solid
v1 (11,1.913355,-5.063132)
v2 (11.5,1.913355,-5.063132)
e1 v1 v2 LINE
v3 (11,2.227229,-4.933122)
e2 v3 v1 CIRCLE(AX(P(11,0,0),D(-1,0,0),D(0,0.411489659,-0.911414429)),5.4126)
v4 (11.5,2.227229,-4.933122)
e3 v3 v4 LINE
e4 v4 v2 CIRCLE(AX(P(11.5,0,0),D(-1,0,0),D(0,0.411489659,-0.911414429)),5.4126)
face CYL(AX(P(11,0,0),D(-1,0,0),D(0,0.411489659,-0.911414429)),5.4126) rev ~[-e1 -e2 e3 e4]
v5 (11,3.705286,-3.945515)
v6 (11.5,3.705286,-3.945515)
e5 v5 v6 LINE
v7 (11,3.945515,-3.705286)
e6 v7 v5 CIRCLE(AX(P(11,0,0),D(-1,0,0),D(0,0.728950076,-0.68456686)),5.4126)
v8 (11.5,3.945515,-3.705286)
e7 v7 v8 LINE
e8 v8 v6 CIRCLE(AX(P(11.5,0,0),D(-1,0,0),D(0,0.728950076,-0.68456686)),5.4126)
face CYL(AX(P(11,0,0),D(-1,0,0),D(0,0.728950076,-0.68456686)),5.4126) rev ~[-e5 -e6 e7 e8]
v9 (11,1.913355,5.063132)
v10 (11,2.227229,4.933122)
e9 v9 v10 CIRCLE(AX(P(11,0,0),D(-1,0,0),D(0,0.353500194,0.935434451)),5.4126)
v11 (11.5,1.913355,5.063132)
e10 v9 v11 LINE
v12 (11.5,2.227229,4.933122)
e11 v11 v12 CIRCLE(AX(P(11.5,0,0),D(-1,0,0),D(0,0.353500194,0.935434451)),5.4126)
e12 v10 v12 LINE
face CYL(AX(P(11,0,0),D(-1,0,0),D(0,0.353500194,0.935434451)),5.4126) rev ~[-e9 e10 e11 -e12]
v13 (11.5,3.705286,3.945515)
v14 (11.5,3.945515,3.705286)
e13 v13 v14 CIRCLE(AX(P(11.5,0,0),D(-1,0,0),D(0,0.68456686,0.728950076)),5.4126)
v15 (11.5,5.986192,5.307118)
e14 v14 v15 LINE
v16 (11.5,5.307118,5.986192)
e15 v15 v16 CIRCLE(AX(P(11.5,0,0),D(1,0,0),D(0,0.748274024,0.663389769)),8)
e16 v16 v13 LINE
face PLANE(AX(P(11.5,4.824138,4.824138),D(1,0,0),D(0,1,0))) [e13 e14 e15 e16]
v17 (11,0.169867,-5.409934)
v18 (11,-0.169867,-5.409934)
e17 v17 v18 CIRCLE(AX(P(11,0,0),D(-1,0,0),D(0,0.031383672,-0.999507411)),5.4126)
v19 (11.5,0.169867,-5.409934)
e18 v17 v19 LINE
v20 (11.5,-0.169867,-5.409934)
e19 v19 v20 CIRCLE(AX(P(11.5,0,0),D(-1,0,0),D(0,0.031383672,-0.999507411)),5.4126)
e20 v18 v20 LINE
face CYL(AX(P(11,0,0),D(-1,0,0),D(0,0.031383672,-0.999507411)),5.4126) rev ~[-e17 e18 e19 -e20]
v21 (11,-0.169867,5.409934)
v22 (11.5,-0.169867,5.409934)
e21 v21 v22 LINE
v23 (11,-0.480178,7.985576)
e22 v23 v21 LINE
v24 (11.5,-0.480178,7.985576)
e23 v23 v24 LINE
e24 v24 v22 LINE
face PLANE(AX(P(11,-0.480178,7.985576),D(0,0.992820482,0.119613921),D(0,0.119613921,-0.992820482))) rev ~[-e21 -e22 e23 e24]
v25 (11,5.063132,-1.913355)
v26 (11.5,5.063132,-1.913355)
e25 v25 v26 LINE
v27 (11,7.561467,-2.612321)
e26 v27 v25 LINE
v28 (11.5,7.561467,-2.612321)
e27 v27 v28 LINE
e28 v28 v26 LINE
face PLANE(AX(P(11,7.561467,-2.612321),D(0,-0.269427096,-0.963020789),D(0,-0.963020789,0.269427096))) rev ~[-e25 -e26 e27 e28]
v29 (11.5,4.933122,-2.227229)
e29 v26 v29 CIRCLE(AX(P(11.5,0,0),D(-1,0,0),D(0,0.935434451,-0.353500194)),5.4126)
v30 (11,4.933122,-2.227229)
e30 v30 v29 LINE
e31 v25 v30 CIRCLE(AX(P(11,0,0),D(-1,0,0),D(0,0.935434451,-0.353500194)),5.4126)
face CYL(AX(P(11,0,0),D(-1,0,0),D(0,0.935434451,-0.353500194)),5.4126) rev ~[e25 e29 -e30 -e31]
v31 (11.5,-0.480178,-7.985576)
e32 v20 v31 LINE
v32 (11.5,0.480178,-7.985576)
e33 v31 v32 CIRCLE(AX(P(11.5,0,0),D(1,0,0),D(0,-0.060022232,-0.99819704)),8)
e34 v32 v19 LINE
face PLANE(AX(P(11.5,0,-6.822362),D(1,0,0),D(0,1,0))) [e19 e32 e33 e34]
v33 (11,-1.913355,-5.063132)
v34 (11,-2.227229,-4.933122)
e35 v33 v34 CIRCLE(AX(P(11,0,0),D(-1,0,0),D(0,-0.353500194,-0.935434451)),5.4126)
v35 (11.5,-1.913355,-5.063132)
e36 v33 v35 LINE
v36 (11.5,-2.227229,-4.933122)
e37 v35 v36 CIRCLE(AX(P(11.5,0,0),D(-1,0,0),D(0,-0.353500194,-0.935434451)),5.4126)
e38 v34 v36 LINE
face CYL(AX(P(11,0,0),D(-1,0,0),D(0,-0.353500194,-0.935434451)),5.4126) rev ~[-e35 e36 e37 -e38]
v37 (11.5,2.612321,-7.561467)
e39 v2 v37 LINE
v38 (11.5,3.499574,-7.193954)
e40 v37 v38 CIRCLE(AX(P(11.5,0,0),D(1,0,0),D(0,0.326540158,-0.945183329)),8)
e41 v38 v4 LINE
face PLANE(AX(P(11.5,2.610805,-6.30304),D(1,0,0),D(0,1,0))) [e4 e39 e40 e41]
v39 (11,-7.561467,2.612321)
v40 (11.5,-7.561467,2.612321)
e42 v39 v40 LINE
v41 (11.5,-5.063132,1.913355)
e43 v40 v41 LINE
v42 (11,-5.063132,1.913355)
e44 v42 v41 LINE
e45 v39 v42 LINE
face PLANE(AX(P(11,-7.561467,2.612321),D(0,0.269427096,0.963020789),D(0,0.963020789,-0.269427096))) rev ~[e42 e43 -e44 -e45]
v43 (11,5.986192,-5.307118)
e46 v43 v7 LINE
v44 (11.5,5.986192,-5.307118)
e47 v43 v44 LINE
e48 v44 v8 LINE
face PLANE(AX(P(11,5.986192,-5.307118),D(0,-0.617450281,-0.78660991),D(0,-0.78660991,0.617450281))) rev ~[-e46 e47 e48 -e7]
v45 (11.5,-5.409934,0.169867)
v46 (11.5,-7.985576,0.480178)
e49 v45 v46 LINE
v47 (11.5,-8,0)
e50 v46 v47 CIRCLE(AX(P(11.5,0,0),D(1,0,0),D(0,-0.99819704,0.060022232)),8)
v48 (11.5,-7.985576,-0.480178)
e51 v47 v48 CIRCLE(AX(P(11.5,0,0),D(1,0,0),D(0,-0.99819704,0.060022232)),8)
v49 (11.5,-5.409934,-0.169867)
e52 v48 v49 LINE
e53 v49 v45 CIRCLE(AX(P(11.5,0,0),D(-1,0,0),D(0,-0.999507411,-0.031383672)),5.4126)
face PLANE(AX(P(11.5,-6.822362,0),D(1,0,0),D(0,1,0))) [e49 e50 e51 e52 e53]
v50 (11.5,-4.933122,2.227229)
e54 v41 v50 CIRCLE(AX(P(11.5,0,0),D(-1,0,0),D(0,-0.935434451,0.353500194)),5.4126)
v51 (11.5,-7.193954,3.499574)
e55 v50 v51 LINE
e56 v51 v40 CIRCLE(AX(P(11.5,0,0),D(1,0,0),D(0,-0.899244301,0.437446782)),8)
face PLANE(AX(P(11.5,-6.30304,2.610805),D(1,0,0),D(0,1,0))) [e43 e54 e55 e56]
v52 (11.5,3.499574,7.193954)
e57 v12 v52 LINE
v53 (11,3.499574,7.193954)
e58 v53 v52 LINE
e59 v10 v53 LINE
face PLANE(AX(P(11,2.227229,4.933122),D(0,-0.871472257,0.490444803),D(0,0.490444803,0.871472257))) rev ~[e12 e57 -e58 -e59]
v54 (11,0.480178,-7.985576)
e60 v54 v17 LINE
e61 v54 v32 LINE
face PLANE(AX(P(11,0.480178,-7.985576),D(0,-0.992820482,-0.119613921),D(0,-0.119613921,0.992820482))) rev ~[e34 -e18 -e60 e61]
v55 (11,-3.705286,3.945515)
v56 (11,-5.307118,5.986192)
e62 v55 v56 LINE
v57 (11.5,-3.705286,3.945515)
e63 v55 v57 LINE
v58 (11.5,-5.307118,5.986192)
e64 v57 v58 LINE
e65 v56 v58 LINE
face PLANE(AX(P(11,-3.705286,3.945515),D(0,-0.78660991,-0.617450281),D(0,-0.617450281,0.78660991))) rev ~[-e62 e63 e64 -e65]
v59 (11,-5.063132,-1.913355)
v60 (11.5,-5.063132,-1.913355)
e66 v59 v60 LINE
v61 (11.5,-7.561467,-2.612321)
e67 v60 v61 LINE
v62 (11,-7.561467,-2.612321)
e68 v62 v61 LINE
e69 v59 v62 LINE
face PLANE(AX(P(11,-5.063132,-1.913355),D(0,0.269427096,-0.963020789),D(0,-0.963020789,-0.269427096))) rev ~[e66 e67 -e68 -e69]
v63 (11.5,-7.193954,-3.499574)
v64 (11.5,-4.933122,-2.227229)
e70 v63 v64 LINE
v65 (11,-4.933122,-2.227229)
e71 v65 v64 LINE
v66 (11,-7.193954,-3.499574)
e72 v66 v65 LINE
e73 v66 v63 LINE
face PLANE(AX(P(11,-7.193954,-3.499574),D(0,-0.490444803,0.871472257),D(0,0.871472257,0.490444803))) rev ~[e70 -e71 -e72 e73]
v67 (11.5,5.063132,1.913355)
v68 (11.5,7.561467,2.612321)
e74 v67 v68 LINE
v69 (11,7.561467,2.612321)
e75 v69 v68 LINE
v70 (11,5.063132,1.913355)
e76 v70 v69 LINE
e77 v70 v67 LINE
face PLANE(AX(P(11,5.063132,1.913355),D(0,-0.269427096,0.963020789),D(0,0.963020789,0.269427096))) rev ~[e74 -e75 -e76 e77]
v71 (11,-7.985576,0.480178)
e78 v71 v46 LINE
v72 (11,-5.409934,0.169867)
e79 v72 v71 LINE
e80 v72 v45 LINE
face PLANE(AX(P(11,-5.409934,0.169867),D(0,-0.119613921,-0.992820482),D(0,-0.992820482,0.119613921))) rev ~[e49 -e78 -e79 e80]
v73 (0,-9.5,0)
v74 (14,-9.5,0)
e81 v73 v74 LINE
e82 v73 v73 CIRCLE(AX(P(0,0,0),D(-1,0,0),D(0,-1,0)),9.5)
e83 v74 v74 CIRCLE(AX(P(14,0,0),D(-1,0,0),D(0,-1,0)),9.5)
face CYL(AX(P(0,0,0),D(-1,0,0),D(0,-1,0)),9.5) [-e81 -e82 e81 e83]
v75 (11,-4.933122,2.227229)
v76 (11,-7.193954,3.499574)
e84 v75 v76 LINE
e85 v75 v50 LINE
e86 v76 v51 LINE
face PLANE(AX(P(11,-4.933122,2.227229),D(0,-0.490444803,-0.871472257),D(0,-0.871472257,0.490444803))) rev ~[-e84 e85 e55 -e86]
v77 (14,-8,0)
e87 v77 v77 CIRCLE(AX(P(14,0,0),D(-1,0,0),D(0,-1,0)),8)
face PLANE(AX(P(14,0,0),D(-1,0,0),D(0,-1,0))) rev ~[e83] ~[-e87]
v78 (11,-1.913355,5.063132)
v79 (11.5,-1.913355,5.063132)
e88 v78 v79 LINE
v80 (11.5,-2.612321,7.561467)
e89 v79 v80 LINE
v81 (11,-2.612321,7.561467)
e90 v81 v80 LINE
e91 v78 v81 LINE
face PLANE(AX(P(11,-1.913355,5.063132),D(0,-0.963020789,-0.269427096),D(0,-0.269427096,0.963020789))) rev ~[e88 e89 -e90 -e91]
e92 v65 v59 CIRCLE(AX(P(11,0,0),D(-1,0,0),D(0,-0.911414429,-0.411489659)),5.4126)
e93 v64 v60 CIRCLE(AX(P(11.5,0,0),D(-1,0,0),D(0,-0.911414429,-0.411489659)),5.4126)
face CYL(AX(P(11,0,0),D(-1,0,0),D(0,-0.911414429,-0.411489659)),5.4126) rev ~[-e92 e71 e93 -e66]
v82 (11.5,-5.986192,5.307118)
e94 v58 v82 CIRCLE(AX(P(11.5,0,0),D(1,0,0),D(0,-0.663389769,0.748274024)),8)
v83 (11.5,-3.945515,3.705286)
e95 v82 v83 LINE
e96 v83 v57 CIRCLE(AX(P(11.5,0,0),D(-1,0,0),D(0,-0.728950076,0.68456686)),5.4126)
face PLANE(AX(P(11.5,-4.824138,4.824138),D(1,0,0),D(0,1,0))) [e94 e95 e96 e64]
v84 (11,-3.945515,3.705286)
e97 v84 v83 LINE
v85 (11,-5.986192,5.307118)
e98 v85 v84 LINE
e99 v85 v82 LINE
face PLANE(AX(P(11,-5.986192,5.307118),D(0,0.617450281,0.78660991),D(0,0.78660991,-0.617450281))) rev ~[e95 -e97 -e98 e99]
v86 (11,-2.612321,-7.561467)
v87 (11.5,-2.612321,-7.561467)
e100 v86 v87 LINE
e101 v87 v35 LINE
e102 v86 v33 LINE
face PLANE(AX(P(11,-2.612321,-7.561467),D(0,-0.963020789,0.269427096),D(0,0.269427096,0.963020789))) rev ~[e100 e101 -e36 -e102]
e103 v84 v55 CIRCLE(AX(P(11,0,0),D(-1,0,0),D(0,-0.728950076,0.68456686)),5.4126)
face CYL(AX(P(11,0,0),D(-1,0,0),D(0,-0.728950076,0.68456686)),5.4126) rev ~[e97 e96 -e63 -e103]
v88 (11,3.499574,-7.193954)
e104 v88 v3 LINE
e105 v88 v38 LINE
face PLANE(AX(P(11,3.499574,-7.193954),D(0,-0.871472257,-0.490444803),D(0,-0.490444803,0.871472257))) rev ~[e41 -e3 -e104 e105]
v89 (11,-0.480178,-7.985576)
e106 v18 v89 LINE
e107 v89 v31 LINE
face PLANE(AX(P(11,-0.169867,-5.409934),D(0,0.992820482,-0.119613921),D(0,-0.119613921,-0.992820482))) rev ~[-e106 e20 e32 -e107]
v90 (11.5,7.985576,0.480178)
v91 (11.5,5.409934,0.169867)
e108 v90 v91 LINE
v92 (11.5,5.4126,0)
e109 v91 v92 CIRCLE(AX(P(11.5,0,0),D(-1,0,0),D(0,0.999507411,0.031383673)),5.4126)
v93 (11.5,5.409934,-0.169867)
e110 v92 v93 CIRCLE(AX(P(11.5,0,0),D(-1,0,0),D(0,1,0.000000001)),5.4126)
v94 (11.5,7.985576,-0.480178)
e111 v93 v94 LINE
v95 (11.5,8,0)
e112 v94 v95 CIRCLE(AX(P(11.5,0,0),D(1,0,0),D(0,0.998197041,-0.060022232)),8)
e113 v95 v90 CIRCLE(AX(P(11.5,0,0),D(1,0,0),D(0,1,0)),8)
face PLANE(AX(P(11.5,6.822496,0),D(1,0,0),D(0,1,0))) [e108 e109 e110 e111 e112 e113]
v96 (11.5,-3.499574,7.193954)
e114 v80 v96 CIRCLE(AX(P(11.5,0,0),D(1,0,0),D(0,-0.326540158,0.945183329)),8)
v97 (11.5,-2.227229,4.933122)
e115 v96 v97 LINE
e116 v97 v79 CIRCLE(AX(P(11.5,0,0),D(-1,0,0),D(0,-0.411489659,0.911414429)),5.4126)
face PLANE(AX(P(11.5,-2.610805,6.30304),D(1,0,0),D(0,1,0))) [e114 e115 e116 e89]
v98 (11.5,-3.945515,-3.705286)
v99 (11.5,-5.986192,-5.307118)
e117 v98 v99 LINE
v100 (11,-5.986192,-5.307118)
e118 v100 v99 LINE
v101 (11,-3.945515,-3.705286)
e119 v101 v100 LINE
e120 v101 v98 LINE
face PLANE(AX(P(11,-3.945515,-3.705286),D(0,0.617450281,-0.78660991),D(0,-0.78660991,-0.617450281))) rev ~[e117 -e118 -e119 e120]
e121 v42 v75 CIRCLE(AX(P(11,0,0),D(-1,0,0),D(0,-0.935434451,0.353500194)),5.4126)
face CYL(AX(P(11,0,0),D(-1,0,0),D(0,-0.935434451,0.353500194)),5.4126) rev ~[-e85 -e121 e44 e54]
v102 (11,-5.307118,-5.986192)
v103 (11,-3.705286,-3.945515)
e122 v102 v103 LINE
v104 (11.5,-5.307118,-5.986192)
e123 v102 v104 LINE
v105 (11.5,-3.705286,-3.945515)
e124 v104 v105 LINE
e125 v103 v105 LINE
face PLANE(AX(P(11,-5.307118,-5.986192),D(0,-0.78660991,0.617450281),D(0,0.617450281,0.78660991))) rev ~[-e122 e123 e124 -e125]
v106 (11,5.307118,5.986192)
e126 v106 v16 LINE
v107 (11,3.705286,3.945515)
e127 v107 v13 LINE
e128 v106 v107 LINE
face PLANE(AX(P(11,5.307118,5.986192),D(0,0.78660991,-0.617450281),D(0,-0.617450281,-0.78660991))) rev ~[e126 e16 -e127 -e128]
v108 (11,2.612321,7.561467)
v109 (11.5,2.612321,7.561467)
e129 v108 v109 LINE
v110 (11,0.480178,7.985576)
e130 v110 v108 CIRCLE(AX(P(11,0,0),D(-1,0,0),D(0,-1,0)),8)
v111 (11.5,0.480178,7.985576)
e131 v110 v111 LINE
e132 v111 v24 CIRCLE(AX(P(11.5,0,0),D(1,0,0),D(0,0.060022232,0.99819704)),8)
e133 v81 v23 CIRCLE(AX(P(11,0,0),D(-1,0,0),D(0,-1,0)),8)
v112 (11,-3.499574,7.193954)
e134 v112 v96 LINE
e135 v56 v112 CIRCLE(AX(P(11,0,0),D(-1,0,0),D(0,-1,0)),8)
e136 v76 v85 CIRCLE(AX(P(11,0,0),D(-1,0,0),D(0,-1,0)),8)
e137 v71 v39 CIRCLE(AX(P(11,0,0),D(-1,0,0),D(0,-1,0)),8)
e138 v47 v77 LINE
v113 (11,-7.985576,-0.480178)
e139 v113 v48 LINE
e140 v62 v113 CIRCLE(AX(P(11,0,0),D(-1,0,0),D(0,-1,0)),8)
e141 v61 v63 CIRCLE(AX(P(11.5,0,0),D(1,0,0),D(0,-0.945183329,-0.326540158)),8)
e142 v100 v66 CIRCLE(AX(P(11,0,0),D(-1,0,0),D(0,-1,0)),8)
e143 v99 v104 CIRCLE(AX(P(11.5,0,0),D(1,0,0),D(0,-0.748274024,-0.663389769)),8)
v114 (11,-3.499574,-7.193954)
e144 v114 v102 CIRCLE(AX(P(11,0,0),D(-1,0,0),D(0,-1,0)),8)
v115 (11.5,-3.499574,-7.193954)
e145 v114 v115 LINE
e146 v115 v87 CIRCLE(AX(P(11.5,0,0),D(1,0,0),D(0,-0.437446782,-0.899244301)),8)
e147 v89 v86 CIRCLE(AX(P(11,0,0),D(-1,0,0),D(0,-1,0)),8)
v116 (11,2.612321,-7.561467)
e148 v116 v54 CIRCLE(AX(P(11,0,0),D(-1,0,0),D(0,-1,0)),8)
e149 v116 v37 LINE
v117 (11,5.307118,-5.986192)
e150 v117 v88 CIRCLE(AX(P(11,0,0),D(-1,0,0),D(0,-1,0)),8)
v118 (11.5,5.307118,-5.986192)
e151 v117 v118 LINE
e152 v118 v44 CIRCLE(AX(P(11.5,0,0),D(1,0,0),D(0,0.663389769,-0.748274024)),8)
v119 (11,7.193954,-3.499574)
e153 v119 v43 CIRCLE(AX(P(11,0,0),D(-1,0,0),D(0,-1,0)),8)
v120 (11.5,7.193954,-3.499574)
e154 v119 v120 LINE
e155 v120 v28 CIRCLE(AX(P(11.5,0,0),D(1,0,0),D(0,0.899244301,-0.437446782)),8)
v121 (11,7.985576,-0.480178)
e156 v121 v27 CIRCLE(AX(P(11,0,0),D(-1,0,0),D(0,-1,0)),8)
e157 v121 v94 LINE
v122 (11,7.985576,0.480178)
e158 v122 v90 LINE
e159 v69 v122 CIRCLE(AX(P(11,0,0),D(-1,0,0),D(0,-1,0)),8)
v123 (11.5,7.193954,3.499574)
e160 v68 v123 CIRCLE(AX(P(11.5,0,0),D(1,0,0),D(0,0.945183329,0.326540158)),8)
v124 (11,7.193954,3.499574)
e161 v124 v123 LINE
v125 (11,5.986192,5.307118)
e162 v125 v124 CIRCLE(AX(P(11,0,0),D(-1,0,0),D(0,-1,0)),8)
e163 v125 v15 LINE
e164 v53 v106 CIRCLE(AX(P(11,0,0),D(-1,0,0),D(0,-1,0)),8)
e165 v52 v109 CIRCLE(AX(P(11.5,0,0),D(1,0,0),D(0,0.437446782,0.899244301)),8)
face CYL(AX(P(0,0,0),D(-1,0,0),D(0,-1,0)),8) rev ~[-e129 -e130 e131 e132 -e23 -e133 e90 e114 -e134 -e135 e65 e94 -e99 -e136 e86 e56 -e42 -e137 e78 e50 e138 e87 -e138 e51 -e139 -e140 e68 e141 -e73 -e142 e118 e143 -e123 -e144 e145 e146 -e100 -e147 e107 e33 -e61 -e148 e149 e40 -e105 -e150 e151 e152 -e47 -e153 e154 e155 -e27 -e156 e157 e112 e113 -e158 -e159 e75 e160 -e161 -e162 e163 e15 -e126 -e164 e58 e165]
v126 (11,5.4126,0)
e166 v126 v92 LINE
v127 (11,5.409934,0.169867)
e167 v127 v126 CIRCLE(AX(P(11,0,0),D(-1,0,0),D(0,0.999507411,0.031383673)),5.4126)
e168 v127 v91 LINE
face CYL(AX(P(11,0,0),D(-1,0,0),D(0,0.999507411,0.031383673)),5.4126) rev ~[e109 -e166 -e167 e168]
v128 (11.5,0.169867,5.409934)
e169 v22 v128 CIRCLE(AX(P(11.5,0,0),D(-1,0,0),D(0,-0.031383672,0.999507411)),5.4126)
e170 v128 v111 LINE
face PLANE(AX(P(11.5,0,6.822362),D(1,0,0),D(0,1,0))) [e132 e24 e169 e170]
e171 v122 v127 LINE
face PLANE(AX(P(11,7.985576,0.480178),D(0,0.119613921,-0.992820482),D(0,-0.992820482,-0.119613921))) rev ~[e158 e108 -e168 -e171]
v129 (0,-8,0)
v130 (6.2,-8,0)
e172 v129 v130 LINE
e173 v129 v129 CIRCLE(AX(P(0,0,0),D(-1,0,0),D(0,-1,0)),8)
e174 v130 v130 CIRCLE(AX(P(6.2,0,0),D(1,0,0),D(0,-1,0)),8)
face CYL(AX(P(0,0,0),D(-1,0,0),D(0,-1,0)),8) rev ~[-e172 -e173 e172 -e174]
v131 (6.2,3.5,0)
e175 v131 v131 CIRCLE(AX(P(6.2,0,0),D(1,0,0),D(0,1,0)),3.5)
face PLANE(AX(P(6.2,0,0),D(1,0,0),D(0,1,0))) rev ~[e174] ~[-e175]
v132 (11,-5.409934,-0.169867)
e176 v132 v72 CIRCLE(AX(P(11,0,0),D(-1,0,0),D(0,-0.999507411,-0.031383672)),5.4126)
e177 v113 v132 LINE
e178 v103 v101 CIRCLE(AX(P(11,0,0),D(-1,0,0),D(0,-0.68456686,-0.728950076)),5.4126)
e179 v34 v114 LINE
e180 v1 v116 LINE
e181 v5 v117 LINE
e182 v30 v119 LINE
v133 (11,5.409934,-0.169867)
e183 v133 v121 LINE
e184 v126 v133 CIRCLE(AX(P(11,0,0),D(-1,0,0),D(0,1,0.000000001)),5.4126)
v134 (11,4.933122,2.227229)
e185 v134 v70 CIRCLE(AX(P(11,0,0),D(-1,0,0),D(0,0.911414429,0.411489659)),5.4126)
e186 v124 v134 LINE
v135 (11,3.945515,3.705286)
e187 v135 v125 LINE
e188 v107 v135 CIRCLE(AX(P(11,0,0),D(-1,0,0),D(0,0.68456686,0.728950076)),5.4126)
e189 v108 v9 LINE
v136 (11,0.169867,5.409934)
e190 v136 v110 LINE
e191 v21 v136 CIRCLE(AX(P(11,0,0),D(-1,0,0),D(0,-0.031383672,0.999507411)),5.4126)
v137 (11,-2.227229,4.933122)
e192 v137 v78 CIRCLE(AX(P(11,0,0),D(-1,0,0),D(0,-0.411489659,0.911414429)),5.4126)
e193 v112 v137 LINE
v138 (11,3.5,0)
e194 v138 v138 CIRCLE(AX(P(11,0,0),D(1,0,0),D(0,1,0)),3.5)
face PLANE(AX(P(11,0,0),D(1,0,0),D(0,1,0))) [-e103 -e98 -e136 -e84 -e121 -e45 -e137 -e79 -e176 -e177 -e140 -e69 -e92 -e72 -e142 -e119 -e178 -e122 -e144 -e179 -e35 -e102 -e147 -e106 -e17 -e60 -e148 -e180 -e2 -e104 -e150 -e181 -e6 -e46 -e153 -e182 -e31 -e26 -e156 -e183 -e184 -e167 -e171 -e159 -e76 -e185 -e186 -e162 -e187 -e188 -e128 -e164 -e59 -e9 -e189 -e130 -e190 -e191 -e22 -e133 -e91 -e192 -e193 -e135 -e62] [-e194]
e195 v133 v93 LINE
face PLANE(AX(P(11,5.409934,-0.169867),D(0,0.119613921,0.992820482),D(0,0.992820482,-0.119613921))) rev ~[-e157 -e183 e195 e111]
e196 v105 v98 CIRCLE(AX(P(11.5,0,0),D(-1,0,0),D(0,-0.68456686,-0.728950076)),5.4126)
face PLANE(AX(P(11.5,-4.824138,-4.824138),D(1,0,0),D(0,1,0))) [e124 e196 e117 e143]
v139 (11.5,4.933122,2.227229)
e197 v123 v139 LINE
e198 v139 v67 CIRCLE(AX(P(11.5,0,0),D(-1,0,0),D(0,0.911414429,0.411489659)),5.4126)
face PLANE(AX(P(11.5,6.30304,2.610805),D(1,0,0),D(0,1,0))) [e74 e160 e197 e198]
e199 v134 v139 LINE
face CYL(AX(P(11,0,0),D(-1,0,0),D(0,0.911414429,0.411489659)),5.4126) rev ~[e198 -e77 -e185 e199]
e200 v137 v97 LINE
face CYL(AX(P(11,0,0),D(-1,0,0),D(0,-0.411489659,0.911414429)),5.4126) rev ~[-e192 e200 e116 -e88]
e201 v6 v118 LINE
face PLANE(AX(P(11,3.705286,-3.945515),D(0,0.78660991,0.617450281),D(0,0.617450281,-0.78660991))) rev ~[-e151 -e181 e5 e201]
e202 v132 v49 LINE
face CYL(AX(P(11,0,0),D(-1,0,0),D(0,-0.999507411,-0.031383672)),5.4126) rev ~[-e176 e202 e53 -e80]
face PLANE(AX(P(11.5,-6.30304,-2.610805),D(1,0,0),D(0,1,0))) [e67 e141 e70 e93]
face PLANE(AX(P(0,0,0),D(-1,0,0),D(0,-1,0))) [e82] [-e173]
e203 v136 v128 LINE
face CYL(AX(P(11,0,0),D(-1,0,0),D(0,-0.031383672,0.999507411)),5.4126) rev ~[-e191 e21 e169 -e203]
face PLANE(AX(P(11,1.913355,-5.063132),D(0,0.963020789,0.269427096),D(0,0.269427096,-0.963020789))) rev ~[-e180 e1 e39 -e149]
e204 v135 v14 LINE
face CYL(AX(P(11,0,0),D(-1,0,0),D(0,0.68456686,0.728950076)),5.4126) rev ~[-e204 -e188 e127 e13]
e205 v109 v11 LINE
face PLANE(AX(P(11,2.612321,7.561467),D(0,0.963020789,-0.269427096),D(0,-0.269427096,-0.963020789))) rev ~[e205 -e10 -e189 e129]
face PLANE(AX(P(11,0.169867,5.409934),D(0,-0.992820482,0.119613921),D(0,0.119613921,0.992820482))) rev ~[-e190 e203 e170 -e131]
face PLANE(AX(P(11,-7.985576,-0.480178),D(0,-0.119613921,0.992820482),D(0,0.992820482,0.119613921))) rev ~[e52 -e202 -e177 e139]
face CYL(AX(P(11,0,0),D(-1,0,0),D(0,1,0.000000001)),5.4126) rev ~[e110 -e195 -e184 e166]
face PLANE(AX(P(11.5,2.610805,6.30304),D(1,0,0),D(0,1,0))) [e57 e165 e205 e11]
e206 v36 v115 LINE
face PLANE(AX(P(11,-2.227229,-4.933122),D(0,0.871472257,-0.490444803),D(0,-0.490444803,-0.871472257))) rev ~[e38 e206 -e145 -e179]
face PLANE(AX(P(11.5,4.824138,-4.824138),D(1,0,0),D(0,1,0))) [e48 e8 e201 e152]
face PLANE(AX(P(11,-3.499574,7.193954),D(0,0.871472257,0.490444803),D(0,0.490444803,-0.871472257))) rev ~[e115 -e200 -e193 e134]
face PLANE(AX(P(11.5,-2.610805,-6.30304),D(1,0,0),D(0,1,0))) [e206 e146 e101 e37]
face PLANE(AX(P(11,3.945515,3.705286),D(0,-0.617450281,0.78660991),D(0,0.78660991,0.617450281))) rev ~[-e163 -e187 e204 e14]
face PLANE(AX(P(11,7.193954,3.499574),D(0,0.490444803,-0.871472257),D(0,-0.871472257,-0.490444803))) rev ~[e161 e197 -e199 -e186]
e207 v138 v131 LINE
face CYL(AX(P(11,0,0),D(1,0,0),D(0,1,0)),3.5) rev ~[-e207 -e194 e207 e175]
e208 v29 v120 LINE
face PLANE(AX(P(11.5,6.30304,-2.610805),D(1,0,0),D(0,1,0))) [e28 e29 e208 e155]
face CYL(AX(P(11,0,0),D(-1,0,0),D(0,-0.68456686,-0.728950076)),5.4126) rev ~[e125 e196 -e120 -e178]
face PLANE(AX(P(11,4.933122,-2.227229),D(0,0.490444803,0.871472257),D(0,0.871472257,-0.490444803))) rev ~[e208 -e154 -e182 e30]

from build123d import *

# Parameters (mm, degrees)
F0_R     = 8
F1_DEPTH = 14
F2_R     = 9.5
F2_R_2   = 8
F3_DEPTH = 14
F4_DEPTH = 3
F5_DEPTH = 6.2
F6_R     = 3.5
F7_DEPTH = 11.001
F9_DEPTH = 0.5


with BuildPart() as f1:
    # F0 (on Right) → F1 (new body)
    with BuildSketch(Plane.YZ):
        Circle(F0_R)
    extrude(amount=F1_DEPTH)

    # F4 (cut): a face of the model
    f4_faces = [f1.faces().sort_by_distance(p)[0] for p in [
        (14, 0, 0),
    ]]
    extrude(f4_faces, amount=-F4_DEPTH, mode=Mode.SUBTRACT)

    # F5 (cut): a face of the model
    f5_faces = [f1.faces().sort_by_distance(p)[0] for p in [
        (0, 0, 0),
    ]]
    extrude(f5_faces, amount=-F5_DEPTH, mode=Mode.SUBTRACT)

    # F6 (on face) → F7 (cut, through all)
    with BuildSketch(Plane.YZ.offset(11)):
        Circle(F6_R)
    extrude(amount=-F7_DEPTH, mode=Mode.SUBTRACT)



with BuildPart() as f3:
    # F2 (on face) → F3 (new body)
    with BuildSketch(Plane(origin=(0, 0, 0), x_dir=(0, -1, 0), z_dir=(-1, 0, 0))):
        Circle(F2_R)
        Circle(F2_R_2, mode=Mode.SUBTRACT)
    extrude(amount=-F3_DEPTH)


with BuildPart() as f1_1:
    add(f1.part)

    add(f3.part)  # F9 merges F3
    # F8 (on face) → F9 (join)
    with BuildSketch(Plane.YZ.offset(11)):
        with BuildLine():
            ThreePointArc((-3.7052864958, -3.9455150793), (-3.8272860657, -3.8272860657), (-3.9455150793, -3.7052864958))
            Line((-3.9455150793, -3.7052864958), (-5.9861921895, -5.3071181511))
            ThreePointArc((-5.9861921895, -5.3071181511), (-5.6568542495, -5.6568542495), (-5.3071181511, -5.9861921895))
            Line((-5.3071181511, -5.9861921895), (-3.7052864958, -3.9455150793))
        make_face()
        with BuildLine():
            ThreePointArc((-4.9331216086, -2.2272288729), (-5.0005902294, -2.0713122929), (-5.0631323811, -1.9133551026))
            Line((-5.0631323811, -1.9133551026), (-7.5614666316, -2.6123212626))
            ThreePointArc((-7.5614666316, -2.6123212626), (-7.3910362601, -3.0614674589), (-7.1939544103, -3.4995742515))
            Line((-7.1939544103, -3.4995742515), (-4.9331216086, -2.2272288729))
        make_face()
        with BuildLine():
            ThreePointArc((-5.4099336753, -0.1698672604), (-5.4125998612, 0), (-5.4099336753, 0.1698672604))
            Line((-5.4099336753, 0.1698672604), (-7.9855763239, 0.4801778575))
            ThreePointArc((-7.9855763239, 0.4801778575), (-8, 0), (-7.9855763239, -0.4801778575))
            Line((-7.9855763239, -0.4801778575), (-5.4099336753, -0.1698672604))
        make_face()
        with BuildLine():
            ThreePointArc((-5.0631323811, 1.9133551026), (-5.0005902294, 2.0713122929), (-4.9331216086, 2.2272288729))
            Line((-4.9331216086, 2.2272288729), (-7.1939544103, 3.4995742515))
            ThreePointArc((-7.1939544103, 3.4995742515), (-7.3910362601, 3.0614674589), (-7.5614666316, 2.6123212626))
            Line((-7.5614666316, 2.6123212626), (-5.0631323811, 1.9133551026))
        make_face()
        with BuildLine():
            ThreePointArc((-3.9455150793, 3.7052864958), (-3.8272860657, 3.8272860657), (-3.7052864958, 3.9455150793))
            Line((-3.7052864958, 3.9455150793), (-5.3071181511, 5.9861921895))
            ThreePointArc((-5.3071181511, 5.9861921895), (-5.6568542495, 5.6568542495), (-5.9861921895, 5.3071181511))
            Line((-5.9861921895, 5.3071181511), (-3.9455150793, 3.7052864958))
        make_face()
        with BuildLine():
            ThreePointArc((-2.2272288729, 4.9331216086), (-2.0713122929, 5.0005902294), (-1.9133551026, 5.0631323811))
            Line((-1.9133551026, 5.0631323811), (-2.6123212626, 7.5614666316))
            ThreePointArc((-2.6123212626, 7.5614666316), (-3.0614674589, 7.3910362601), (-3.4995742515, 7.1939544103))
            Line((-3.4995742515, 7.1939544103), (-2.2272288729, 4.9331216086))
        make_face()
        with BuildLine():
            ThreePointArc((-0.1698672604, 5.4099336753), (0, 5.4125998612), (0.1698672604, 5.4099336753))
            Line((0.1698672604, 5.4099336753), (0.4801778575, 7.9855763239))
            ThreePointArc((0.4801778575, 7.9855763239), (0, 8), (-0.4801778575, 7.9855763239))
            Line((-0.4801778575, 7.9855763239), (-0.1698672604, 5.4099336753))
        make_face()
        with BuildLine():
            Line((2.6123212626, 7.5614666316), (1.9133551026, 5.0631323811))
            ThreePointArc((1.9133551026, 5.0631323811), (2.0713122929, 5.0005902294), (2.2272288729, 4.9331216086))
            Line((2.2272288729, 4.9331216086), (3.4995742515, 7.1939544103))
            ThreePointArc((3.4995742515, 7.1939544103), (3.0614674589, 7.3910362601), (2.6123212626, 7.5614666316))
        make_face()
        with BuildLine():
            Line((5.3071181511, 5.9861921895), (3.7052864958, 3.9455150793))
            ThreePointArc((3.7052864958, 3.9455150793), (3.8272860657, 3.8272860657), (3.9455150793, 3.7052864958))
            Line((3.9455150793, 3.7052864958), (5.9861921895, 5.3071181511))
            ThreePointArc((5.9861921895, 5.3071181511), (5.6568542495, 5.6568542495), (5.3071181511, 5.9861921895))
        make_face()
        with BuildLine():
            Line((7.1939544103, 3.4995742515), (4.9331216086, 2.2272288729))
            ThreePointArc((4.9331216086, 2.2272288729), (5.0005902294, 2.0713122929), (5.0631323811, 1.9133551026))
            Line((5.0631323811, 1.9133551026), (7.5614666316, 2.6123212626))
            ThreePointArc((7.5614666316, 2.6123212626), (7.3910362601, 3.0614674589), (7.1939544103, 3.4995742515))
        make_face()
        with BuildLine():
            Line((7.9855763239, 0.4801778575), (5.4099336753, 0.1698672604))
            ThreePointArc((5.4099336753, 0.1698672604), (5.4119332737, 0.0849440915), (5.4125998612, 0))
            ThreePointArc((5.4125998612, 0), (5.4119332737, -0.0849440915), (5.4099336753, -0.1698672604))
            Line((5.4099336753, -0.1698672604), (7.9855763239, -0.4801778575))
            ThreePointArc((7.9855763239, -0.4801778575), (7.9963932679, -0.2401972196), (8, 0))
            ThreePointArc((8, 0), (7.9963932679, 0.2401972196), (7.9855763239, 0.4801778575))
        make_face()
        with BuildLine():
            Line((7.5614666316, -2.6123212626), (5.0631323811, -1.9133551026))
            ThreePointArc((5.0631323811, -1.9133551026), (5.0005902294, -2.0713122929), (4.9331216086, -2.2272288729))
            Line((4.9331216086, -2.2272288729), (7.1939544103, -3.4995742515))
            ThreePointArc((7.1939544103, -3.4995742515), (7.3910362601, -3.0614674589), (7.5614666316, -2.6123212626))
        make_face()
        with BuildLine():
            Line((5.9861921895, -5.3071181511), (3.9455150793, -3.7052864958))
            ThreePointArc((3.9455150793, -3.7052864958), (3.8272860657, -3.8272860657), (3.7052864958, -3.9455150793))
            Line((3.7052864958, -3.9455150793), (5.3071181511, -5.9861921895))
            ThreePointArc((5.3071181511, -5.9861921895), (5.6568542495, -5.6568542495), (5.9861921895, -5.3071181511))
        make_face()
        with BuildLine():
            Line((3.4995742515, -7.1939544103), (2.2272288729, -4.9331216086))
            ThreePointArc((2.2272288729, -4.9331216086), (2.0713122929, -5.0005902294), (1.9133551026, -5.0631323811))
            Line((1.9133551026, -5.0631323811), (2.6123212626, -7.5614666316))
            ThreePointArc((2.6123212626, -7.5614666316), (3.0614674589, -7.3910362601), (3.4995742515, -7.1939544103))
        make_face()
        with BuildLine():
            ThreePointArc((0.1698672604, -5.4099336753), (0, -5.4125998612), (-0.1698672604, -5.4099336753))
            Line((-0.1698672604, -5.4099336753), (-0.4801778575, -7.9855763239))
            ThreePointArc((-0.4801778575, -7.9855763239), (0, -8), (0.4801778575, -7.9855763239))
            Line((0.4801778575, -7.9855763239), (0.1698672604, -5.4099336753))
        make_face()
        with BuildLine():
            ThreePointArc((-1.9133551026, -5.0631323811), (-2.0713122929, -5.0005902294), (-2.2272288729, -4.9331216086))
            Line((-2.2272288729, -4.9331216086), (-3.4995742515, -7.1939544103))
            ThreePointArc((-3.4995742515, -7.1939544103), (-3.0614674589, -7.3910362601), (-2.6123212626, -7.5614666316))
            Line((-2.6123212626, -7.5614666316), (-1.9133551026, -5.0631323811))
        make_face()
    extrude(amount=F9_DEPTH)


solid = f1_1.part
